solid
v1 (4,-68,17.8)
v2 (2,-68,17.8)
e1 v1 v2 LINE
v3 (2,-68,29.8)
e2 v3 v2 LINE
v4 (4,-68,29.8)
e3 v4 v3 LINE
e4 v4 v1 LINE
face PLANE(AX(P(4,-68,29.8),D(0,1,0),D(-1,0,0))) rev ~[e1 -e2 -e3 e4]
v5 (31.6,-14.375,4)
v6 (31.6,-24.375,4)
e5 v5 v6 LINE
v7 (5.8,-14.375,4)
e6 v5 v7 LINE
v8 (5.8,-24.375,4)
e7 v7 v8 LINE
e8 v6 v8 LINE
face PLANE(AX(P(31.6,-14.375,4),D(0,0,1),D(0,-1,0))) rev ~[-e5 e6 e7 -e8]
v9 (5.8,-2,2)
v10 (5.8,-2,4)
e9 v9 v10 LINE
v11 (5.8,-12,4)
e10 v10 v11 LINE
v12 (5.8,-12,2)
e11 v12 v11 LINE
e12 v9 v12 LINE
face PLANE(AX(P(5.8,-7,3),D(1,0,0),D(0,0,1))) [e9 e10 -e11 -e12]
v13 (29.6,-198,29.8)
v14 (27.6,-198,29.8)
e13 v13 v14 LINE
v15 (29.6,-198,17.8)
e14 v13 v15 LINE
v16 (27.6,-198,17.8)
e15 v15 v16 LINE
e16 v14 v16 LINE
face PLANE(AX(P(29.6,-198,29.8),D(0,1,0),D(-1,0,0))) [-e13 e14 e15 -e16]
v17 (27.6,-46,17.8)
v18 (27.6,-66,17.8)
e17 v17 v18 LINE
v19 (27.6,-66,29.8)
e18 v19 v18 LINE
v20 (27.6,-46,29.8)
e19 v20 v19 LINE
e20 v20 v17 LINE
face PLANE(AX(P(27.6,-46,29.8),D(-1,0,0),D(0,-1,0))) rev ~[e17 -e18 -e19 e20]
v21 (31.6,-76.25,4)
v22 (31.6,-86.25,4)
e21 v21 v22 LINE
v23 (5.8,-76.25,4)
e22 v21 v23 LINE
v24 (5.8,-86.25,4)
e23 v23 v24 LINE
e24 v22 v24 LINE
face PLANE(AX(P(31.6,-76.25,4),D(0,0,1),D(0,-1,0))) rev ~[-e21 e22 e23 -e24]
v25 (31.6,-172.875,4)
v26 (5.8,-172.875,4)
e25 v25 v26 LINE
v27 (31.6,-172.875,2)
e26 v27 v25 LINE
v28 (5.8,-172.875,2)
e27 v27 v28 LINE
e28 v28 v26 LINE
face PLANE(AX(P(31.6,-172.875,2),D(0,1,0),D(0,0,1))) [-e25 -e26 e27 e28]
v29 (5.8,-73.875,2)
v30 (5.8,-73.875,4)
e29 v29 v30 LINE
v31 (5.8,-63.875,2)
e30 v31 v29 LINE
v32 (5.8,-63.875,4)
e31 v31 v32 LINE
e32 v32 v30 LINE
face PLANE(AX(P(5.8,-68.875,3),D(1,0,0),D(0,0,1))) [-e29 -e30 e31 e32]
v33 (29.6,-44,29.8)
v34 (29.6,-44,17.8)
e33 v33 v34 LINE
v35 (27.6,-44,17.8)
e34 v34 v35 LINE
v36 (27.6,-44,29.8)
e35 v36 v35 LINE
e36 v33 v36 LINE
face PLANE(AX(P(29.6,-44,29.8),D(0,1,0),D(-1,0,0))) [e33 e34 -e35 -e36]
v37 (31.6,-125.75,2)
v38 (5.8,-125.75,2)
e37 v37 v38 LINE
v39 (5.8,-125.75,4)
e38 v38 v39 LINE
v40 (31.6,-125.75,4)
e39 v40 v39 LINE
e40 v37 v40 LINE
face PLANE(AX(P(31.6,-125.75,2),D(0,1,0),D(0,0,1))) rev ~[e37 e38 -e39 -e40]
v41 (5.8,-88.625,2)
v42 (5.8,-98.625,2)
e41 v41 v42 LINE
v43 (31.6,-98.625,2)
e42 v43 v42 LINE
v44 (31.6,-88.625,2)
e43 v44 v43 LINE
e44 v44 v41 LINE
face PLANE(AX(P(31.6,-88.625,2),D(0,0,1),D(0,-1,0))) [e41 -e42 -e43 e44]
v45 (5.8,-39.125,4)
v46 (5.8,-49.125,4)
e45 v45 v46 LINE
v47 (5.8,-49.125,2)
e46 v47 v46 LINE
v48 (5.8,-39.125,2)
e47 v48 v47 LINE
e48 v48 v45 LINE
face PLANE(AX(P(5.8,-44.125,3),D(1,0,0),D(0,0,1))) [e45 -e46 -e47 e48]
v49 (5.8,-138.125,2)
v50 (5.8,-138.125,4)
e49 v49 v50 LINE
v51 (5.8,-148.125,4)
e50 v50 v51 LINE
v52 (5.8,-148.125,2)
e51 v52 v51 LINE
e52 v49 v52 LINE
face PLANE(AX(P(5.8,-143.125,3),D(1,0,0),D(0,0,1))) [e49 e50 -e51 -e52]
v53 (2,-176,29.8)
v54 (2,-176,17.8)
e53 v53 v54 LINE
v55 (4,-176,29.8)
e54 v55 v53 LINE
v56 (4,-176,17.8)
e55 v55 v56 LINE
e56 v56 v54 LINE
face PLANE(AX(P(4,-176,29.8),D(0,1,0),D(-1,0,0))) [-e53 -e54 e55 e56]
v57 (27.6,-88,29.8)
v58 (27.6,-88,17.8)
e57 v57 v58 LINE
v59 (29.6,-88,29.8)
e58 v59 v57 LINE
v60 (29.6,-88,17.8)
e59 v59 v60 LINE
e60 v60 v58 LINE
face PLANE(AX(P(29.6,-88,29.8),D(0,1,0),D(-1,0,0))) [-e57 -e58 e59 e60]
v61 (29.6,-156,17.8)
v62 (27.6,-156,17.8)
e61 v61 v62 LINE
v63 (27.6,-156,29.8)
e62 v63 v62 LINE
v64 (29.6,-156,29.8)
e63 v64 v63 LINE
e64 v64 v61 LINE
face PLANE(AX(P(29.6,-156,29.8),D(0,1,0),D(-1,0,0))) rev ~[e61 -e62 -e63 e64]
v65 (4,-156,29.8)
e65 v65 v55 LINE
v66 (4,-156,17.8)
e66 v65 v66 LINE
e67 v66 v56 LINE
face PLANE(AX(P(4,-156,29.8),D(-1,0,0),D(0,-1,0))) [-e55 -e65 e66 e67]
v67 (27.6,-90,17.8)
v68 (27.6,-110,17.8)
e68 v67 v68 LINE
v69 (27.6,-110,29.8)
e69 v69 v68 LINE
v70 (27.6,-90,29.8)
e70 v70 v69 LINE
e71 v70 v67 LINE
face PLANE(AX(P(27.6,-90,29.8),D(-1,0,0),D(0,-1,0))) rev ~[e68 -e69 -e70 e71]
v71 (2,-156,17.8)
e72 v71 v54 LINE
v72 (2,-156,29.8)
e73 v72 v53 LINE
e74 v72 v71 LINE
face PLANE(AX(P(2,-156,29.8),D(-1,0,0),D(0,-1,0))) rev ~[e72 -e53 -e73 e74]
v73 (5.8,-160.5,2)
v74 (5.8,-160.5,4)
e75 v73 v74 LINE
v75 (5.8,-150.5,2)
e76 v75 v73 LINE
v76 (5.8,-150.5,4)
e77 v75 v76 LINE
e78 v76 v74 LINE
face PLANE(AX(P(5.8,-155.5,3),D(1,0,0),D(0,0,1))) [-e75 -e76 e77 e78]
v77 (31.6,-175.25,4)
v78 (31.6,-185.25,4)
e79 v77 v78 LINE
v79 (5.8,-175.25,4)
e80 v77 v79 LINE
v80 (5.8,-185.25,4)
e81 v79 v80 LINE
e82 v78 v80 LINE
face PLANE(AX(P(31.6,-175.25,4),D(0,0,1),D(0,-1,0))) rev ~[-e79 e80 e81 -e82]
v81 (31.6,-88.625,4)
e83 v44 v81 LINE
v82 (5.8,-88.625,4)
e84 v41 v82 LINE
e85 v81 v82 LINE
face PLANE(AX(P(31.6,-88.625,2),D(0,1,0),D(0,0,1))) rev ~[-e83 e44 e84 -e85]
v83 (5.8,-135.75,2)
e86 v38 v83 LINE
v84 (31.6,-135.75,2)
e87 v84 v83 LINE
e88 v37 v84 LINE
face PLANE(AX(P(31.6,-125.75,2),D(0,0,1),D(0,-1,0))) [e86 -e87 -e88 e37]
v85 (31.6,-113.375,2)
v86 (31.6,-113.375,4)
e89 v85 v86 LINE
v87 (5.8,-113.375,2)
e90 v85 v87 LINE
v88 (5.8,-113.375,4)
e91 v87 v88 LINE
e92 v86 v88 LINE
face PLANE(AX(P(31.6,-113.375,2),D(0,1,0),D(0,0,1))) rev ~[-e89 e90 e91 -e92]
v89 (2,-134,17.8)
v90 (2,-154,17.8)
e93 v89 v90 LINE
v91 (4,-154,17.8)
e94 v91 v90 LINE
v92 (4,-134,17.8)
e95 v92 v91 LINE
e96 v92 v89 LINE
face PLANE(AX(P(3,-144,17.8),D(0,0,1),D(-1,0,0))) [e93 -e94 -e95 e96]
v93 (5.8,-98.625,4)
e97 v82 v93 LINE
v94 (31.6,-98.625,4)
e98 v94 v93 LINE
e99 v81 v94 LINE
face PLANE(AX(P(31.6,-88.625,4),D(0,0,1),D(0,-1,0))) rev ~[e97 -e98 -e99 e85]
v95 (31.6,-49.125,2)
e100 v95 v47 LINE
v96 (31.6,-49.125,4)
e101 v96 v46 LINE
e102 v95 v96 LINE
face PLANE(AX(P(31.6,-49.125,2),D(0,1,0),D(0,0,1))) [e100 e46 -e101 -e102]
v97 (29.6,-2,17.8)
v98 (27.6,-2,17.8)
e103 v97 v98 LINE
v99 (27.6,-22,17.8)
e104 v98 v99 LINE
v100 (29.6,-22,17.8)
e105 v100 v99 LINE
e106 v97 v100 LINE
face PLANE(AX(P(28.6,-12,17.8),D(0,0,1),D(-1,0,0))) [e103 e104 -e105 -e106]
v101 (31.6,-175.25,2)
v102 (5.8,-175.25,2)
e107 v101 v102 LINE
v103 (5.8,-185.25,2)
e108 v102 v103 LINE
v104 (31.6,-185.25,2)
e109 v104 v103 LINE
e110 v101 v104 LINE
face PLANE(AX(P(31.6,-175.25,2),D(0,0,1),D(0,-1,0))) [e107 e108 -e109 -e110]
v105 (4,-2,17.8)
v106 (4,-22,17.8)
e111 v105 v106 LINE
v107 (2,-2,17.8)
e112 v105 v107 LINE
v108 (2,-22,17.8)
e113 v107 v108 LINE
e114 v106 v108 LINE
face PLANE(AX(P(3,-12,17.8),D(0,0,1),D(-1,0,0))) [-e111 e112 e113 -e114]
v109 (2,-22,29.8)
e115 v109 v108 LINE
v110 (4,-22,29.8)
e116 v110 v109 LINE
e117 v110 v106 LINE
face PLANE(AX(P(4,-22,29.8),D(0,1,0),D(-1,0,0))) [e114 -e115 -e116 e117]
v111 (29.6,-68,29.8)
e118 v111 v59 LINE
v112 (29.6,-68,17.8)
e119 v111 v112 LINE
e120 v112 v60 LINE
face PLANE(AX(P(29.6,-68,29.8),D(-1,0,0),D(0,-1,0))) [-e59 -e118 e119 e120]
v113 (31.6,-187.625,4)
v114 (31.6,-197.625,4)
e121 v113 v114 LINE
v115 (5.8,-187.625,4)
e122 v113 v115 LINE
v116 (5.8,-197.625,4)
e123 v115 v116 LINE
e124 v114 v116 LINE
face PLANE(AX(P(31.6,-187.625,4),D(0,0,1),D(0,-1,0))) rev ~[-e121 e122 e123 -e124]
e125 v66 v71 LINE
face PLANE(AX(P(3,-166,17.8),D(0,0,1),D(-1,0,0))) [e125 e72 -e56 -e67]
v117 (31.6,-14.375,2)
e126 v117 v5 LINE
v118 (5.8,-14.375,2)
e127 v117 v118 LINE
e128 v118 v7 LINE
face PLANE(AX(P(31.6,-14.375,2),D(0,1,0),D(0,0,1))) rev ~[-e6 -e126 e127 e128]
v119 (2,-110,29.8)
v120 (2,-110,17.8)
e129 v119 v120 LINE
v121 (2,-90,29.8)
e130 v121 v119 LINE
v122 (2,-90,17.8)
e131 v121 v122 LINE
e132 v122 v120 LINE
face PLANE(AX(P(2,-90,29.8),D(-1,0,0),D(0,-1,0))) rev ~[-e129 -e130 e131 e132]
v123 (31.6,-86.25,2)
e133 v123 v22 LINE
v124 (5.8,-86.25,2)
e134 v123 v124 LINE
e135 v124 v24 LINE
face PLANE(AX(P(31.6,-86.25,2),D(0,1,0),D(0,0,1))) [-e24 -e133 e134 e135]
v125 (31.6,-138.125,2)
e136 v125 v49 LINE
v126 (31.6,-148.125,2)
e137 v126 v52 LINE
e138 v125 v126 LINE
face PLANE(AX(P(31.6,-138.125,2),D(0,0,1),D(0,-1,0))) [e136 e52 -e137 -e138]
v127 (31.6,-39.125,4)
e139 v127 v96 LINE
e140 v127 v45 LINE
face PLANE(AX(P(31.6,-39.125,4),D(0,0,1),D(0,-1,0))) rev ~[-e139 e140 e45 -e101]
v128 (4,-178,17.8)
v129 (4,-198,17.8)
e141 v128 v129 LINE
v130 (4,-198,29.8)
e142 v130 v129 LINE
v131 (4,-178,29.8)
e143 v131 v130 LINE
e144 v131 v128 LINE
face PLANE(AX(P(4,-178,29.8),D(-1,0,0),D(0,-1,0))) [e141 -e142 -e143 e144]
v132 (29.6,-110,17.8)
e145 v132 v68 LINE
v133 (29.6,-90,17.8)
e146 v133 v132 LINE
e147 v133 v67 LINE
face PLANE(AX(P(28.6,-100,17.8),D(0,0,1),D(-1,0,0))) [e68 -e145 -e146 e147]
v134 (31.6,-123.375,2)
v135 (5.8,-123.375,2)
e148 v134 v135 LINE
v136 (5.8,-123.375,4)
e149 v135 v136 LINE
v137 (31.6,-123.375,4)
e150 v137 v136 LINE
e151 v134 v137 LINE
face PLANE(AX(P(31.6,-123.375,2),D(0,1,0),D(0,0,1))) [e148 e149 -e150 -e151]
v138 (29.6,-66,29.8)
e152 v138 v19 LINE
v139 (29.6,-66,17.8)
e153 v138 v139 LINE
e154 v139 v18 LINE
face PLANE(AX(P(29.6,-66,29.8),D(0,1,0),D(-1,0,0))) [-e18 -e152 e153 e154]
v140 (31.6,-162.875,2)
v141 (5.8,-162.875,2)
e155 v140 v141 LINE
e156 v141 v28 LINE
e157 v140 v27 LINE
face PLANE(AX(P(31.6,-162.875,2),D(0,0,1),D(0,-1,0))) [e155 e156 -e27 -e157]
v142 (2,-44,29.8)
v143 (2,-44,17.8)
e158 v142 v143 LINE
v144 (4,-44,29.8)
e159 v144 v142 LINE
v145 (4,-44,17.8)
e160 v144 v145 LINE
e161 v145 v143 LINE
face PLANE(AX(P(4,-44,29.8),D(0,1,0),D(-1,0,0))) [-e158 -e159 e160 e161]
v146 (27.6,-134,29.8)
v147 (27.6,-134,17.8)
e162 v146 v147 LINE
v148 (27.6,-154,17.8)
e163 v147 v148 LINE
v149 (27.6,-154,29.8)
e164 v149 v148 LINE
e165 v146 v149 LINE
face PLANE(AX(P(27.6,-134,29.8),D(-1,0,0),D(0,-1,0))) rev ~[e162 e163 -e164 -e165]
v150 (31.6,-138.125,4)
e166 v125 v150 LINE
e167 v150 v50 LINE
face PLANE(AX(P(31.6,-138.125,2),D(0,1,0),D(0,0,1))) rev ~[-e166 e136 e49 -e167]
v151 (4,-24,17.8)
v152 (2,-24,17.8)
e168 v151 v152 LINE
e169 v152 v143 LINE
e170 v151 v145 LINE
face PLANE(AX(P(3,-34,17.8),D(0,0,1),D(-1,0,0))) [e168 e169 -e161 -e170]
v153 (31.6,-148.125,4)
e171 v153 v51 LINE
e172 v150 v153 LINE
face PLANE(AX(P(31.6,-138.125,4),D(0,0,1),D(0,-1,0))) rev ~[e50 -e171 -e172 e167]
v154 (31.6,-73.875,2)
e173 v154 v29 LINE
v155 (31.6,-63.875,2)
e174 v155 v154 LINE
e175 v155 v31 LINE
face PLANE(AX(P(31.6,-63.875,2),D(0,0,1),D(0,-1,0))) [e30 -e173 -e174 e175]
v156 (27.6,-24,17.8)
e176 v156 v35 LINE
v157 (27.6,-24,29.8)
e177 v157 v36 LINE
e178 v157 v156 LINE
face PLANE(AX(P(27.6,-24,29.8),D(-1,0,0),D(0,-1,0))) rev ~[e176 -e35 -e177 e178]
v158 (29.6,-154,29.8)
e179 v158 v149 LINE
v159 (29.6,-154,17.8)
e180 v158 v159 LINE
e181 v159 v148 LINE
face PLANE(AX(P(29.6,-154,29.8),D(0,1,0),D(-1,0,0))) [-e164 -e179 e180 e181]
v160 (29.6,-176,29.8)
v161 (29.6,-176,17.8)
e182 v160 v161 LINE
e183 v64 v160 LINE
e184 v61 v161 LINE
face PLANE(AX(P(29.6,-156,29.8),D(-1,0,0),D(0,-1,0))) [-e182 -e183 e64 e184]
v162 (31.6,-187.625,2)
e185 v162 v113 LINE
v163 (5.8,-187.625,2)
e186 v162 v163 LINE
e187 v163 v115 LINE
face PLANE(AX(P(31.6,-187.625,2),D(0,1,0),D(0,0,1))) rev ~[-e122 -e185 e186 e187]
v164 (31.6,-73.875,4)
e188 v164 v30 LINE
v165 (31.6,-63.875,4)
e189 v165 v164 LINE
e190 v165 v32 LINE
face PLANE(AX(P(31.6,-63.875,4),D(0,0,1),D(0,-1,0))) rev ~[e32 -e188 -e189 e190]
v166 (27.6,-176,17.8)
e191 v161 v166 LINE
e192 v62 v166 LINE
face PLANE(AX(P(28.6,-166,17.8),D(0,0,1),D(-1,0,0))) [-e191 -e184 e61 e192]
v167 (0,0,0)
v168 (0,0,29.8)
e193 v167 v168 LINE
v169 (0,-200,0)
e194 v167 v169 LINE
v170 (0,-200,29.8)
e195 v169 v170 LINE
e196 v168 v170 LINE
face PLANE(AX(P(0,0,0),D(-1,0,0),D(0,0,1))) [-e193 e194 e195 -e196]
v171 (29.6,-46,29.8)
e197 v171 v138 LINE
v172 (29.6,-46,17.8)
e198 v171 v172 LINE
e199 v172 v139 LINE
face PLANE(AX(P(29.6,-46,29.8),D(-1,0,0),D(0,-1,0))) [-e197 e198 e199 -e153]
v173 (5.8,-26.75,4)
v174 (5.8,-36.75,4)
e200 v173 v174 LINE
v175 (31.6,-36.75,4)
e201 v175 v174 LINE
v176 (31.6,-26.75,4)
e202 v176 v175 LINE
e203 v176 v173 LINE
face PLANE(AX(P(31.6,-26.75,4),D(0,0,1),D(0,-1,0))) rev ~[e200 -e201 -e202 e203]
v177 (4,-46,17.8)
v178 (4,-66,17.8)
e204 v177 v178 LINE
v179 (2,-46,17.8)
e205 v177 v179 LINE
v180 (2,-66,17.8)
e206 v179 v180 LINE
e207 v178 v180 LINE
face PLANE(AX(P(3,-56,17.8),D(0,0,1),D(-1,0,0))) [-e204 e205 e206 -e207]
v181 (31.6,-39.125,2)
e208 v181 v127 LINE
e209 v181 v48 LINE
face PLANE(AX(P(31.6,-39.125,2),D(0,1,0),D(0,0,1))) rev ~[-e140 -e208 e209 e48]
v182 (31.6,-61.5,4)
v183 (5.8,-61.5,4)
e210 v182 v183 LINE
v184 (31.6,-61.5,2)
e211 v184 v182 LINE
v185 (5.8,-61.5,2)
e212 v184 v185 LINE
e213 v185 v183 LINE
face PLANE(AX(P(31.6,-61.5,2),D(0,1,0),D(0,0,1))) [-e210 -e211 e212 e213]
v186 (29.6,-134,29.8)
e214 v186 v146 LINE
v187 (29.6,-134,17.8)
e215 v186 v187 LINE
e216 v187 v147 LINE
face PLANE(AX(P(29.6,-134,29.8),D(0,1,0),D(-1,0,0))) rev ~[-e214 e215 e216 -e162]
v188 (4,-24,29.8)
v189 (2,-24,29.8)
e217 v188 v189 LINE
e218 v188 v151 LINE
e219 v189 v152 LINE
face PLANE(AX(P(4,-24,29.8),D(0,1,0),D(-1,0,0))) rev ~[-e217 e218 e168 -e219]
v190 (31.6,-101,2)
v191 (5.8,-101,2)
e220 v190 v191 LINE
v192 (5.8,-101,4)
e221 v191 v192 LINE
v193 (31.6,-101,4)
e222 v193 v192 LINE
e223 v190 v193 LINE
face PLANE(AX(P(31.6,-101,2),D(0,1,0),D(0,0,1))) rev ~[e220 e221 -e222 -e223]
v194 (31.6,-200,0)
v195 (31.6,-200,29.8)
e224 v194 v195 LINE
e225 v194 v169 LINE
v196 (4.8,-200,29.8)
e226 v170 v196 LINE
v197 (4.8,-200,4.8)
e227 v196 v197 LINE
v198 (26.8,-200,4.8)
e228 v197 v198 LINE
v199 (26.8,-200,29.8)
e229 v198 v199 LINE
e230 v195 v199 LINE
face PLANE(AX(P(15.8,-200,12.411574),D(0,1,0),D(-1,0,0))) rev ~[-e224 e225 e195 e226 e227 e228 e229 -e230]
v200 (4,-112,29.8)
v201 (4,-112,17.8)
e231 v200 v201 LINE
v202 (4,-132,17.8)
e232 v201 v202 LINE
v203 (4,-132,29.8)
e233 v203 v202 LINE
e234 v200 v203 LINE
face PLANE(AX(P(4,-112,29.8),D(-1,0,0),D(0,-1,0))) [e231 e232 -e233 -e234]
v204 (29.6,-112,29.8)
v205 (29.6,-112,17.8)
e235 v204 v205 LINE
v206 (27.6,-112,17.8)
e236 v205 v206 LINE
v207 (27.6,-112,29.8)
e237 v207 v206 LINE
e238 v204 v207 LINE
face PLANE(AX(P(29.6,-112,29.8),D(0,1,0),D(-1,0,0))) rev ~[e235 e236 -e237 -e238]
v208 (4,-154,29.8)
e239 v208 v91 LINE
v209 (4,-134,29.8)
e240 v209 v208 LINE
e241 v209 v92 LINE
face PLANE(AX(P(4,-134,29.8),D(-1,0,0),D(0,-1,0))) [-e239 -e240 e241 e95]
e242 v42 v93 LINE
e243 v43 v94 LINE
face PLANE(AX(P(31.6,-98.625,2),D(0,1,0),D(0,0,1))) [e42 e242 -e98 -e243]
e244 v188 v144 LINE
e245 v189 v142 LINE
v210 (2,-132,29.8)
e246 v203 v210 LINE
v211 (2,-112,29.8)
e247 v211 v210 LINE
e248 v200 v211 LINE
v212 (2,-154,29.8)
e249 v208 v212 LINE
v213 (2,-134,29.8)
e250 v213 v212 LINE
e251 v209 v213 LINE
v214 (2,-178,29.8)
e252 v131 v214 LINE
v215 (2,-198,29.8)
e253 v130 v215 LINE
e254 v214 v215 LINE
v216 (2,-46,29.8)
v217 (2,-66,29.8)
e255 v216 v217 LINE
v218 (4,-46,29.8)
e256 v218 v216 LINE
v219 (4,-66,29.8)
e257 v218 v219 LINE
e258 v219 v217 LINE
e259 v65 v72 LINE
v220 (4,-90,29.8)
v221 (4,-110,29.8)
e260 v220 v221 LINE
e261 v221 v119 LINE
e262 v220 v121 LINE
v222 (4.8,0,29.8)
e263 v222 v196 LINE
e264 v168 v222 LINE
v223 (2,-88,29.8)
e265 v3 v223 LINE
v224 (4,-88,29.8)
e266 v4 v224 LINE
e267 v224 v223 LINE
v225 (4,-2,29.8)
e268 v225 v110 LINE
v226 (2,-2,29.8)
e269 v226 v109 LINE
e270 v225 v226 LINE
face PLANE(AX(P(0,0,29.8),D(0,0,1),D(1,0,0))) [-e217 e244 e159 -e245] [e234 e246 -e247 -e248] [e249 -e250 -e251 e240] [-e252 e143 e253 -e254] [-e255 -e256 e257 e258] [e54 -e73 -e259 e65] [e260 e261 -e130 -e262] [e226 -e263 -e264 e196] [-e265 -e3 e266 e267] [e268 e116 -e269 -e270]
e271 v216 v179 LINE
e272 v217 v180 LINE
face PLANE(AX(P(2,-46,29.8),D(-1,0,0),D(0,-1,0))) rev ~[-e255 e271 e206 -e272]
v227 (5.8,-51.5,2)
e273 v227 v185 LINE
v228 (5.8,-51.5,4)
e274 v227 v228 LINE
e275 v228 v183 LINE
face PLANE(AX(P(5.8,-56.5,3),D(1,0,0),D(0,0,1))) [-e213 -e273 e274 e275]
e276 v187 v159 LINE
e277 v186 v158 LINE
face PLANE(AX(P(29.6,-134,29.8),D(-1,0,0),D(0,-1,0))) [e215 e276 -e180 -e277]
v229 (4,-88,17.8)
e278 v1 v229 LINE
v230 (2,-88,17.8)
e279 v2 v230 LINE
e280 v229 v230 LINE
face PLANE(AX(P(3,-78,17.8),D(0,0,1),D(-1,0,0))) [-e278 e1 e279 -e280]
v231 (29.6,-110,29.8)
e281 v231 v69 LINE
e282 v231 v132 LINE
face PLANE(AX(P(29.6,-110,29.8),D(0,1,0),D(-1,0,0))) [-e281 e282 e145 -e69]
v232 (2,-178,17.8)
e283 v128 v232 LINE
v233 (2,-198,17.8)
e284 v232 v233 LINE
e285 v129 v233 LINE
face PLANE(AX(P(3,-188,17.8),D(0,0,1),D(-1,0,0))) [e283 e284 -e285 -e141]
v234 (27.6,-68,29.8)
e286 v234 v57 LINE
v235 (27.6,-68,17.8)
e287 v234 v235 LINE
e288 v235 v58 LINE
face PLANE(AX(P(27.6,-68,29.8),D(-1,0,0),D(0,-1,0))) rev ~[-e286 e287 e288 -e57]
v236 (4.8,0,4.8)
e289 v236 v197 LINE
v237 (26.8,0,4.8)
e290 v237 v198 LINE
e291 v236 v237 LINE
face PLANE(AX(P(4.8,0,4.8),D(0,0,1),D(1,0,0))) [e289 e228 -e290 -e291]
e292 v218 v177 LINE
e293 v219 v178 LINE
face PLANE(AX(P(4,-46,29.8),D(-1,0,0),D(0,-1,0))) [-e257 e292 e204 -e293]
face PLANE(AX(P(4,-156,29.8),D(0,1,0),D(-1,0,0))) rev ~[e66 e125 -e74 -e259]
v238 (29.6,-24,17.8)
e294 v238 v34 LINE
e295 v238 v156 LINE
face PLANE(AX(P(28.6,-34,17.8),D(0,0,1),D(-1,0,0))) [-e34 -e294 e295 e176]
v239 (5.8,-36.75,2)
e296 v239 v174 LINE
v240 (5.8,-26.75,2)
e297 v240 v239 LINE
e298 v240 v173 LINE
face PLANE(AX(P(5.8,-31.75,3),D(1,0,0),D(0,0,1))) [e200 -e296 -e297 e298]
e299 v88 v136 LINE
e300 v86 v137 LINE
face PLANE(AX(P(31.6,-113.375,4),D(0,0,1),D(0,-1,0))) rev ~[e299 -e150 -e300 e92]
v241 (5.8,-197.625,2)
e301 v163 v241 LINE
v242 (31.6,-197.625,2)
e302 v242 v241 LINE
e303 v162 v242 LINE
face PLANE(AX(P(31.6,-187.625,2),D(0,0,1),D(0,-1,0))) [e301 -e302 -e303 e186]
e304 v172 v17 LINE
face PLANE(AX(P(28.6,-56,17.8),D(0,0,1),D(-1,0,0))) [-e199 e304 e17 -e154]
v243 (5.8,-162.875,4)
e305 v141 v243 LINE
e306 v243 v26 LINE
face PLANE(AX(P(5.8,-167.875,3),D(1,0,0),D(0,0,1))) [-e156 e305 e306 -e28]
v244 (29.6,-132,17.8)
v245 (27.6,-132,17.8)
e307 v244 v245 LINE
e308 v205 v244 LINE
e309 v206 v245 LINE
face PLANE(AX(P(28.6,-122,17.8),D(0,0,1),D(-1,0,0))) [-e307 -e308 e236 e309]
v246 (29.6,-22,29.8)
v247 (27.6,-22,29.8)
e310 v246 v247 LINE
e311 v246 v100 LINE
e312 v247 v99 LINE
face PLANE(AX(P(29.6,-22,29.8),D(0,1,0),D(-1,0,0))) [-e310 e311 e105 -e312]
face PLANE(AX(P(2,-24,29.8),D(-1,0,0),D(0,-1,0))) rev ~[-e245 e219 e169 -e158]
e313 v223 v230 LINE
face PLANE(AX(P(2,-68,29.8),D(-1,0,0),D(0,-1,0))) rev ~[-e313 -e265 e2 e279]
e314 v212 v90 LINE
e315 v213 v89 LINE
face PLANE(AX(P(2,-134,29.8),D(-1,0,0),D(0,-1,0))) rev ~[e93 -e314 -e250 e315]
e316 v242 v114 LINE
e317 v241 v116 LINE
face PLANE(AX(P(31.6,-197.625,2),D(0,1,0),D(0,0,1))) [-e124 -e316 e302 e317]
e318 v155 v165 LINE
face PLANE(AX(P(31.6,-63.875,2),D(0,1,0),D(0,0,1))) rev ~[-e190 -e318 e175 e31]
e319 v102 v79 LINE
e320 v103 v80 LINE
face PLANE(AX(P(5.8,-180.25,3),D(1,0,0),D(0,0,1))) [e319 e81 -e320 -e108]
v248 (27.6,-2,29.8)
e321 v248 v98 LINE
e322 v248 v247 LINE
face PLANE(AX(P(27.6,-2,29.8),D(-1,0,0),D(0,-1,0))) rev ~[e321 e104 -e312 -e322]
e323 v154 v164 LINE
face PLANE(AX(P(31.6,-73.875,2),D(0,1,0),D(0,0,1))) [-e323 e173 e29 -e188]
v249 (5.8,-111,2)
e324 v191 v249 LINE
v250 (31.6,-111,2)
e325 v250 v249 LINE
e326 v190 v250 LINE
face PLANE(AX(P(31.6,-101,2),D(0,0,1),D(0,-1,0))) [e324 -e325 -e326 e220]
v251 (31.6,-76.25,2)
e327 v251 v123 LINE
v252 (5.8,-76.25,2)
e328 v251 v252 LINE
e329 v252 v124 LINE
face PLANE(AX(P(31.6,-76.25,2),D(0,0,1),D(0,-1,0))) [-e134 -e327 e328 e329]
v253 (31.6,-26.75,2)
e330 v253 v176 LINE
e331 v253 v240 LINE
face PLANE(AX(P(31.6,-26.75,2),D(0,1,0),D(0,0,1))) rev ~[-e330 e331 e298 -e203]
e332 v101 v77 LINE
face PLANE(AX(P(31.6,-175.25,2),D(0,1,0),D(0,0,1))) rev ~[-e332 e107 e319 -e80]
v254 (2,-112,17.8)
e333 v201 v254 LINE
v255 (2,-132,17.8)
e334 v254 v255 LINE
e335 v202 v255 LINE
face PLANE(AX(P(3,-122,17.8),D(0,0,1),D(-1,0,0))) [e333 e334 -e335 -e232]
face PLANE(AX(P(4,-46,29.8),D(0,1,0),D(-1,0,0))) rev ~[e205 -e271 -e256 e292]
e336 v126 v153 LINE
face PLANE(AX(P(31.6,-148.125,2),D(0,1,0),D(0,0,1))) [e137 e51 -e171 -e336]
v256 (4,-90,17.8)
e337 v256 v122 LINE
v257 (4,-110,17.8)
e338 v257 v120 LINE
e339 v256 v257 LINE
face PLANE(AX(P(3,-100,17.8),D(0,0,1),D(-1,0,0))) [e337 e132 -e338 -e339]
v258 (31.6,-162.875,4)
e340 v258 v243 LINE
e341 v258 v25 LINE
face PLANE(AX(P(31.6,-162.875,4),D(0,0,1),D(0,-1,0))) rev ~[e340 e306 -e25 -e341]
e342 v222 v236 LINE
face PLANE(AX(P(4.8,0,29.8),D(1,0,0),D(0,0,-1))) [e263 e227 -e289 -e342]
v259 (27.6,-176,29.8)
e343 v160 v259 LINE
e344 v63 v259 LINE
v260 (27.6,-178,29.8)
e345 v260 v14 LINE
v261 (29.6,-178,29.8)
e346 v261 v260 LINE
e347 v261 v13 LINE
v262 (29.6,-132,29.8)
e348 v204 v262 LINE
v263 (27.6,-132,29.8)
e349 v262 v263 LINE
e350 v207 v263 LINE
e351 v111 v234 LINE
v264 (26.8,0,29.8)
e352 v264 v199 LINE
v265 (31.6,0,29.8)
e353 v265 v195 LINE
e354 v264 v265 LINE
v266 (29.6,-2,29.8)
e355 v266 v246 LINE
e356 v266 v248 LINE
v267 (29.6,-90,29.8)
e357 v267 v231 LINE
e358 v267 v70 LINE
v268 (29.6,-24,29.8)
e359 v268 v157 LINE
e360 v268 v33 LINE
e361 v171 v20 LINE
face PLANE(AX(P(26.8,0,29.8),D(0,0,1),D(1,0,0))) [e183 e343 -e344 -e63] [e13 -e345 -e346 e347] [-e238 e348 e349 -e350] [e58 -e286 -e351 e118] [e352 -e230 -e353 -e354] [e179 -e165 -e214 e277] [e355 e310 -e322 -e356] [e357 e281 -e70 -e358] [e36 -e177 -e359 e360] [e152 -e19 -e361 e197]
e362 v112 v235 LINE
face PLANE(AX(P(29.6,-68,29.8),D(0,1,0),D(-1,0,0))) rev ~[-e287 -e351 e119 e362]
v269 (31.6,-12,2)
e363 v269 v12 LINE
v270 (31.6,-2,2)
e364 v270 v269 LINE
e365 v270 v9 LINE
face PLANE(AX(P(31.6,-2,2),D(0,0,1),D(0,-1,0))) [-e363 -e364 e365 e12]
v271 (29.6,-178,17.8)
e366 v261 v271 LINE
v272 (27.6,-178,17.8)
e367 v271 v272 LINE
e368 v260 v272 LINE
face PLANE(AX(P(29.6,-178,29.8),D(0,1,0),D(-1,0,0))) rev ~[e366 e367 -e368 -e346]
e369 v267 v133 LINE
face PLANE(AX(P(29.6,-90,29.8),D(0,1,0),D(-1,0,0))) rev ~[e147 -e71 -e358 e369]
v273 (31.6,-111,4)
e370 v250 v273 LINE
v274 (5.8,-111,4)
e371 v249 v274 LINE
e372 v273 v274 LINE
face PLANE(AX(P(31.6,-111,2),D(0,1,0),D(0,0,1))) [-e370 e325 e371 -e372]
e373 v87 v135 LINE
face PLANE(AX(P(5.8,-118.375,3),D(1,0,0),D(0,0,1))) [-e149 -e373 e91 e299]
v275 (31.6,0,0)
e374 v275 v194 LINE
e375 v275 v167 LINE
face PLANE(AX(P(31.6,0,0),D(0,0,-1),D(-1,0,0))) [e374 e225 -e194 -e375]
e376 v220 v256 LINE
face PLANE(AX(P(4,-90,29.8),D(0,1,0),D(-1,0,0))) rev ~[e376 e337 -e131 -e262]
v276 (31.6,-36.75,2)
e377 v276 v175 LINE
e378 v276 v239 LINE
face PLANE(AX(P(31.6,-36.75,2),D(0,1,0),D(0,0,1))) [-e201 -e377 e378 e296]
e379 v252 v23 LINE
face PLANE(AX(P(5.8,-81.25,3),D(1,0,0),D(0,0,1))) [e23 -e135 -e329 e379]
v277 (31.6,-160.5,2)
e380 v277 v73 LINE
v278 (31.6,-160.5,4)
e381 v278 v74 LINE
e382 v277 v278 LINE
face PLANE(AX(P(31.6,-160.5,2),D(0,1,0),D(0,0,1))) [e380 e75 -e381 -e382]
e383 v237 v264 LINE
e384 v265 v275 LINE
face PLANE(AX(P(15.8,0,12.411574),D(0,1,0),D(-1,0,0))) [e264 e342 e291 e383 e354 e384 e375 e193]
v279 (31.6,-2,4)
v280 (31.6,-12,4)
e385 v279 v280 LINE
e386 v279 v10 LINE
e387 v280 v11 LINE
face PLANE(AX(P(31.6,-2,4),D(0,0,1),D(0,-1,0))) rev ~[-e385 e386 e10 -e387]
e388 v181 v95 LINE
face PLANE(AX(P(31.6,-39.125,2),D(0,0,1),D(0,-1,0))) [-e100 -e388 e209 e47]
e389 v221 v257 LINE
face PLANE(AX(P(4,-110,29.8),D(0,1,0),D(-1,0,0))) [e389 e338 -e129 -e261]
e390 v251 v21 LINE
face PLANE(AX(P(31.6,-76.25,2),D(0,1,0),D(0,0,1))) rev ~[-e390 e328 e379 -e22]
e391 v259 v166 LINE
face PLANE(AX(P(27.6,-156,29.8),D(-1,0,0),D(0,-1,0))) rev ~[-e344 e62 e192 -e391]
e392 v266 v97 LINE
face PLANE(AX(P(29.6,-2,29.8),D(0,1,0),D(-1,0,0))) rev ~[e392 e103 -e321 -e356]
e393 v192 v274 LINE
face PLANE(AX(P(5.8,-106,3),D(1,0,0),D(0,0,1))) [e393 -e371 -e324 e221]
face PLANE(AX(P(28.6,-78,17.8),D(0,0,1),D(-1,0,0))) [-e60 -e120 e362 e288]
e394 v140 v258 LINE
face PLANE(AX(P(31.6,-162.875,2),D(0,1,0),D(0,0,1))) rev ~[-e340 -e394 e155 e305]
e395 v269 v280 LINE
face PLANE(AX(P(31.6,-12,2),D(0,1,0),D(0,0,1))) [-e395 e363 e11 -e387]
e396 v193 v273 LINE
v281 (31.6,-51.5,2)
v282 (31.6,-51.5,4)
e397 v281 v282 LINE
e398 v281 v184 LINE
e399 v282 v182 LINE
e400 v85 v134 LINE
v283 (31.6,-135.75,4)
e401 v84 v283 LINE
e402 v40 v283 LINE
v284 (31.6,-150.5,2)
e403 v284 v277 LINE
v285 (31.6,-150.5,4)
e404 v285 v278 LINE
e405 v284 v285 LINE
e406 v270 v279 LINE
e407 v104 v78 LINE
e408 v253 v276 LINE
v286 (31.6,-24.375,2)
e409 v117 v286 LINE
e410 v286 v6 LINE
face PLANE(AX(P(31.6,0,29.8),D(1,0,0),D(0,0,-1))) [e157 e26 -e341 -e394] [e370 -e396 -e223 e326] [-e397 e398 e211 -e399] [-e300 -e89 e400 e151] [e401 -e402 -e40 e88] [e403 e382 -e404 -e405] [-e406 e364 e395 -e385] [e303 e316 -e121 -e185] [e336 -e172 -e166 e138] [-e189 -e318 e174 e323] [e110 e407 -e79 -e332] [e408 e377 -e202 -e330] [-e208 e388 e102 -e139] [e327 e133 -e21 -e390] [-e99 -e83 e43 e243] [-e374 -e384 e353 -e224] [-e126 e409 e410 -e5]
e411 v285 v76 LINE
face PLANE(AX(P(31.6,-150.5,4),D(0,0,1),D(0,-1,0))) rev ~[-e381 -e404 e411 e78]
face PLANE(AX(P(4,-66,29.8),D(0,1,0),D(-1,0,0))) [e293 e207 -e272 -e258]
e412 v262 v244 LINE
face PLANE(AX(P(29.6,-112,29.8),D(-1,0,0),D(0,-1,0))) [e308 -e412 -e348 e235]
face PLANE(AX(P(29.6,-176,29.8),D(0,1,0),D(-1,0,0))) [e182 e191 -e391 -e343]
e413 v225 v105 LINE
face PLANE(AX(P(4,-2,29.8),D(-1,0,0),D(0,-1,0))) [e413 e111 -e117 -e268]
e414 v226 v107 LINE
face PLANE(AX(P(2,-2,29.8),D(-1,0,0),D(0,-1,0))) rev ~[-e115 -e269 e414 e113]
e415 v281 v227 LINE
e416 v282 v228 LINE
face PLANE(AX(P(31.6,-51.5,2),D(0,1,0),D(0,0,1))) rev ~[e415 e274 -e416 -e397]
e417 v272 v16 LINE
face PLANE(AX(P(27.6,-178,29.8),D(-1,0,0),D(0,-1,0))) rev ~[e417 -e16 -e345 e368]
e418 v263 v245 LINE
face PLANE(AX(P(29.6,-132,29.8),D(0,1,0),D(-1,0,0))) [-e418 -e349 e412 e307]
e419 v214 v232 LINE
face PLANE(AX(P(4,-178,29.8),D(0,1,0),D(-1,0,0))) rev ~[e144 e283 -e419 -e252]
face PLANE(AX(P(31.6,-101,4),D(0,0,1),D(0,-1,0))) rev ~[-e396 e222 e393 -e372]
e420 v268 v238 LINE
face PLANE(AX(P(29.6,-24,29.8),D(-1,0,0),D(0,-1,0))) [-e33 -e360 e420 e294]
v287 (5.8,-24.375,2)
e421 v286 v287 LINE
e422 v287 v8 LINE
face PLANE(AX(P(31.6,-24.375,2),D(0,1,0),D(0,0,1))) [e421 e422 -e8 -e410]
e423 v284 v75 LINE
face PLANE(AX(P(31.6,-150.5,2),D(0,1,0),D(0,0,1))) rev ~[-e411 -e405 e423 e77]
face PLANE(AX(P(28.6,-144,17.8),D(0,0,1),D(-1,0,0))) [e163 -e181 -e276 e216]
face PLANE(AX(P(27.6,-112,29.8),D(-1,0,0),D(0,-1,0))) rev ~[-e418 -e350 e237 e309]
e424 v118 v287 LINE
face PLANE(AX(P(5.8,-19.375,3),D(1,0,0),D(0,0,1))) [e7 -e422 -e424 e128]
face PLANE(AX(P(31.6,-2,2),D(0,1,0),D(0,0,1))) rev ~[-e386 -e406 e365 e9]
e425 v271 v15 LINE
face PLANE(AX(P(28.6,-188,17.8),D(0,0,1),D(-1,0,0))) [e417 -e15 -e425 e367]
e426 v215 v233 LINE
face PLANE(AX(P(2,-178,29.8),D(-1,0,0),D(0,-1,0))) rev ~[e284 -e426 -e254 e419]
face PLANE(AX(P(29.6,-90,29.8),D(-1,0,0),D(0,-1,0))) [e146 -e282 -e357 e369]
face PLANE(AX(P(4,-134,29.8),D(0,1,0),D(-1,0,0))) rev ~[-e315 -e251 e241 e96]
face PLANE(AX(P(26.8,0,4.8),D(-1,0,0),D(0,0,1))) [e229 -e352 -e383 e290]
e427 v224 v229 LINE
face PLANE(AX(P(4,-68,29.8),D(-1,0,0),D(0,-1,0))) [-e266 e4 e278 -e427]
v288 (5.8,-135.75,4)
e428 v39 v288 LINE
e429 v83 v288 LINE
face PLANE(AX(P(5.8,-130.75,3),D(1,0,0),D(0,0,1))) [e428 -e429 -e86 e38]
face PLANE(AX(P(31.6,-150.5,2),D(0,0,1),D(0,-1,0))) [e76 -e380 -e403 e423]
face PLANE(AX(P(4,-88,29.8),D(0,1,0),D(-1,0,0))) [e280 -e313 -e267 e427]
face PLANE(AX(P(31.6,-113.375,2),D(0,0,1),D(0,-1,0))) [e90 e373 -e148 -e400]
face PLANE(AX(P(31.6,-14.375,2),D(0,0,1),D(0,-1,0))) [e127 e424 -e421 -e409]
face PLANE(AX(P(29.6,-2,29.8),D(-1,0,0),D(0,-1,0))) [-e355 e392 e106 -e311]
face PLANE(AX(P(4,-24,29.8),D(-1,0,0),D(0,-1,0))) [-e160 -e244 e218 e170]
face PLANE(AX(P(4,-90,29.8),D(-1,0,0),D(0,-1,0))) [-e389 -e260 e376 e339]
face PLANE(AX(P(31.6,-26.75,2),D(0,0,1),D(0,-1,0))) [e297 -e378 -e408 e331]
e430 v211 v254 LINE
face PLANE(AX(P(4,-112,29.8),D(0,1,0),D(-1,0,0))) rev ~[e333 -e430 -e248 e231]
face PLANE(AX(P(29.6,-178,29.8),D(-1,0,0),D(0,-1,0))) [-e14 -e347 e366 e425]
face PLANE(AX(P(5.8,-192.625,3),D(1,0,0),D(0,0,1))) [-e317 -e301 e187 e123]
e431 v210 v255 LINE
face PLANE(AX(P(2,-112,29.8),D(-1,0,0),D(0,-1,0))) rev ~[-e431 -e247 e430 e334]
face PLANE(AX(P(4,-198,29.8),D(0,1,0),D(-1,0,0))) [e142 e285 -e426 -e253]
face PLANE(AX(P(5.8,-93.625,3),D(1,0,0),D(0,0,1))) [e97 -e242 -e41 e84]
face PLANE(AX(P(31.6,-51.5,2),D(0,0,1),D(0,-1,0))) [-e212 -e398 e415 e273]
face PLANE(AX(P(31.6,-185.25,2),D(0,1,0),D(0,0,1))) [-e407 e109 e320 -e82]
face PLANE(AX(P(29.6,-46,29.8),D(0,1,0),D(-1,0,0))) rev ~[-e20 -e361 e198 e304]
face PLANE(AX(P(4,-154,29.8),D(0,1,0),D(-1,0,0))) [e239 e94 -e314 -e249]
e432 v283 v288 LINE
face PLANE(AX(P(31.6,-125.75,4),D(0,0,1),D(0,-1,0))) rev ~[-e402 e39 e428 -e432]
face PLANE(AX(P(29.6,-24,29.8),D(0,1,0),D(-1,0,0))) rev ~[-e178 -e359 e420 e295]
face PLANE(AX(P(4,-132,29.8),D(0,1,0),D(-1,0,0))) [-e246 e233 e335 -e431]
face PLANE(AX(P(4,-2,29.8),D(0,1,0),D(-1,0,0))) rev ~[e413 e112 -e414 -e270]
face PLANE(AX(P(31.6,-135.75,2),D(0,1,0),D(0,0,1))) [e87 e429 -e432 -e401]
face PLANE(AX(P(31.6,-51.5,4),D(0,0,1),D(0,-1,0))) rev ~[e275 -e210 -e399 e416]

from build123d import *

# Parameters (mm, degrees)
PAD_DEPTH              = 200
SKETCH001_W            = 2
SKETCH001_H            = 20
POCKET_DEPTH           = 12
LINEARPATTERN_COUNT    = 10
LINEARPATTERN_PITCH    = 22
SKETCH002_W            = 2
SKETCH002_H            = 10
POCKET001_DEPTH        = 25.8
LINEARPATTERN001_COUNT = 17
LINEARPATTERN001_PITCH = 12.375


with BuildPart() as part:
    # Sketch → Pad (new body)
    with BuildSketch(Plane.XZ):
        Polygon((0, 0), (0, 29.8), (4.8, 29.8), (4.8, 4.8), (26.8, 4.8), (26.8, 29.8), (31.6, 29.8), (31.6, 0), align=None)
    extrude(amount=PAD_DEPTH)

    # Sketch001 (on Face2 of Pad) → Pocket (cut)
    with BuildSketch(Plane(origin=(0, 0, 29.8), x_dir=(-1, 0, 0), z_dir=(0, 0, 1))):
        with Locations((-28.6, 12)):
            Rectangle(SKETCH001_W, SKETCH001_H)
        with Locations((-3, 12)):
            Rectangle(SKETCH001_W, SKETCH001_H)
    pocket = extrude(amount=-POCKET_DEPTH, mode=Mode.SUBTRACT)

    # LinearPattern: Pocket ×10
    with Locations(*[(0, -i * LINEARPATTERN_PITCH, 0) for i in range(1, LINEARPATTERN_COUNT)]):
        add(pocket, mode=Mode.SUBTRACT)

    # Sketch002 (on Face6 of LinearPattern) → Pocket001 (cut)
    with BuildSketch(Plane(origin=(31.6, 0, 0), x_dir=(0, 0, 1), z_dir=(1, 0, 0))):
        with Locations((3, 7)):
            Rectangle(SKETCH002_W, SKETCH002_H)
    pocket001 = extrude(amount=-POCKET001_DEPTH, mode=Mode.SUBTRACT)

    # LinearPattern001: Pocket001 ×17
    with Locations(*[(0, -i * LINEARPATTERN001_PITCH, 0) for i in range(1, LINEARPATTERN001_COUNT)]):
        add(pocket001, mode=Mode.SUBTRACT)


solid = part.part
